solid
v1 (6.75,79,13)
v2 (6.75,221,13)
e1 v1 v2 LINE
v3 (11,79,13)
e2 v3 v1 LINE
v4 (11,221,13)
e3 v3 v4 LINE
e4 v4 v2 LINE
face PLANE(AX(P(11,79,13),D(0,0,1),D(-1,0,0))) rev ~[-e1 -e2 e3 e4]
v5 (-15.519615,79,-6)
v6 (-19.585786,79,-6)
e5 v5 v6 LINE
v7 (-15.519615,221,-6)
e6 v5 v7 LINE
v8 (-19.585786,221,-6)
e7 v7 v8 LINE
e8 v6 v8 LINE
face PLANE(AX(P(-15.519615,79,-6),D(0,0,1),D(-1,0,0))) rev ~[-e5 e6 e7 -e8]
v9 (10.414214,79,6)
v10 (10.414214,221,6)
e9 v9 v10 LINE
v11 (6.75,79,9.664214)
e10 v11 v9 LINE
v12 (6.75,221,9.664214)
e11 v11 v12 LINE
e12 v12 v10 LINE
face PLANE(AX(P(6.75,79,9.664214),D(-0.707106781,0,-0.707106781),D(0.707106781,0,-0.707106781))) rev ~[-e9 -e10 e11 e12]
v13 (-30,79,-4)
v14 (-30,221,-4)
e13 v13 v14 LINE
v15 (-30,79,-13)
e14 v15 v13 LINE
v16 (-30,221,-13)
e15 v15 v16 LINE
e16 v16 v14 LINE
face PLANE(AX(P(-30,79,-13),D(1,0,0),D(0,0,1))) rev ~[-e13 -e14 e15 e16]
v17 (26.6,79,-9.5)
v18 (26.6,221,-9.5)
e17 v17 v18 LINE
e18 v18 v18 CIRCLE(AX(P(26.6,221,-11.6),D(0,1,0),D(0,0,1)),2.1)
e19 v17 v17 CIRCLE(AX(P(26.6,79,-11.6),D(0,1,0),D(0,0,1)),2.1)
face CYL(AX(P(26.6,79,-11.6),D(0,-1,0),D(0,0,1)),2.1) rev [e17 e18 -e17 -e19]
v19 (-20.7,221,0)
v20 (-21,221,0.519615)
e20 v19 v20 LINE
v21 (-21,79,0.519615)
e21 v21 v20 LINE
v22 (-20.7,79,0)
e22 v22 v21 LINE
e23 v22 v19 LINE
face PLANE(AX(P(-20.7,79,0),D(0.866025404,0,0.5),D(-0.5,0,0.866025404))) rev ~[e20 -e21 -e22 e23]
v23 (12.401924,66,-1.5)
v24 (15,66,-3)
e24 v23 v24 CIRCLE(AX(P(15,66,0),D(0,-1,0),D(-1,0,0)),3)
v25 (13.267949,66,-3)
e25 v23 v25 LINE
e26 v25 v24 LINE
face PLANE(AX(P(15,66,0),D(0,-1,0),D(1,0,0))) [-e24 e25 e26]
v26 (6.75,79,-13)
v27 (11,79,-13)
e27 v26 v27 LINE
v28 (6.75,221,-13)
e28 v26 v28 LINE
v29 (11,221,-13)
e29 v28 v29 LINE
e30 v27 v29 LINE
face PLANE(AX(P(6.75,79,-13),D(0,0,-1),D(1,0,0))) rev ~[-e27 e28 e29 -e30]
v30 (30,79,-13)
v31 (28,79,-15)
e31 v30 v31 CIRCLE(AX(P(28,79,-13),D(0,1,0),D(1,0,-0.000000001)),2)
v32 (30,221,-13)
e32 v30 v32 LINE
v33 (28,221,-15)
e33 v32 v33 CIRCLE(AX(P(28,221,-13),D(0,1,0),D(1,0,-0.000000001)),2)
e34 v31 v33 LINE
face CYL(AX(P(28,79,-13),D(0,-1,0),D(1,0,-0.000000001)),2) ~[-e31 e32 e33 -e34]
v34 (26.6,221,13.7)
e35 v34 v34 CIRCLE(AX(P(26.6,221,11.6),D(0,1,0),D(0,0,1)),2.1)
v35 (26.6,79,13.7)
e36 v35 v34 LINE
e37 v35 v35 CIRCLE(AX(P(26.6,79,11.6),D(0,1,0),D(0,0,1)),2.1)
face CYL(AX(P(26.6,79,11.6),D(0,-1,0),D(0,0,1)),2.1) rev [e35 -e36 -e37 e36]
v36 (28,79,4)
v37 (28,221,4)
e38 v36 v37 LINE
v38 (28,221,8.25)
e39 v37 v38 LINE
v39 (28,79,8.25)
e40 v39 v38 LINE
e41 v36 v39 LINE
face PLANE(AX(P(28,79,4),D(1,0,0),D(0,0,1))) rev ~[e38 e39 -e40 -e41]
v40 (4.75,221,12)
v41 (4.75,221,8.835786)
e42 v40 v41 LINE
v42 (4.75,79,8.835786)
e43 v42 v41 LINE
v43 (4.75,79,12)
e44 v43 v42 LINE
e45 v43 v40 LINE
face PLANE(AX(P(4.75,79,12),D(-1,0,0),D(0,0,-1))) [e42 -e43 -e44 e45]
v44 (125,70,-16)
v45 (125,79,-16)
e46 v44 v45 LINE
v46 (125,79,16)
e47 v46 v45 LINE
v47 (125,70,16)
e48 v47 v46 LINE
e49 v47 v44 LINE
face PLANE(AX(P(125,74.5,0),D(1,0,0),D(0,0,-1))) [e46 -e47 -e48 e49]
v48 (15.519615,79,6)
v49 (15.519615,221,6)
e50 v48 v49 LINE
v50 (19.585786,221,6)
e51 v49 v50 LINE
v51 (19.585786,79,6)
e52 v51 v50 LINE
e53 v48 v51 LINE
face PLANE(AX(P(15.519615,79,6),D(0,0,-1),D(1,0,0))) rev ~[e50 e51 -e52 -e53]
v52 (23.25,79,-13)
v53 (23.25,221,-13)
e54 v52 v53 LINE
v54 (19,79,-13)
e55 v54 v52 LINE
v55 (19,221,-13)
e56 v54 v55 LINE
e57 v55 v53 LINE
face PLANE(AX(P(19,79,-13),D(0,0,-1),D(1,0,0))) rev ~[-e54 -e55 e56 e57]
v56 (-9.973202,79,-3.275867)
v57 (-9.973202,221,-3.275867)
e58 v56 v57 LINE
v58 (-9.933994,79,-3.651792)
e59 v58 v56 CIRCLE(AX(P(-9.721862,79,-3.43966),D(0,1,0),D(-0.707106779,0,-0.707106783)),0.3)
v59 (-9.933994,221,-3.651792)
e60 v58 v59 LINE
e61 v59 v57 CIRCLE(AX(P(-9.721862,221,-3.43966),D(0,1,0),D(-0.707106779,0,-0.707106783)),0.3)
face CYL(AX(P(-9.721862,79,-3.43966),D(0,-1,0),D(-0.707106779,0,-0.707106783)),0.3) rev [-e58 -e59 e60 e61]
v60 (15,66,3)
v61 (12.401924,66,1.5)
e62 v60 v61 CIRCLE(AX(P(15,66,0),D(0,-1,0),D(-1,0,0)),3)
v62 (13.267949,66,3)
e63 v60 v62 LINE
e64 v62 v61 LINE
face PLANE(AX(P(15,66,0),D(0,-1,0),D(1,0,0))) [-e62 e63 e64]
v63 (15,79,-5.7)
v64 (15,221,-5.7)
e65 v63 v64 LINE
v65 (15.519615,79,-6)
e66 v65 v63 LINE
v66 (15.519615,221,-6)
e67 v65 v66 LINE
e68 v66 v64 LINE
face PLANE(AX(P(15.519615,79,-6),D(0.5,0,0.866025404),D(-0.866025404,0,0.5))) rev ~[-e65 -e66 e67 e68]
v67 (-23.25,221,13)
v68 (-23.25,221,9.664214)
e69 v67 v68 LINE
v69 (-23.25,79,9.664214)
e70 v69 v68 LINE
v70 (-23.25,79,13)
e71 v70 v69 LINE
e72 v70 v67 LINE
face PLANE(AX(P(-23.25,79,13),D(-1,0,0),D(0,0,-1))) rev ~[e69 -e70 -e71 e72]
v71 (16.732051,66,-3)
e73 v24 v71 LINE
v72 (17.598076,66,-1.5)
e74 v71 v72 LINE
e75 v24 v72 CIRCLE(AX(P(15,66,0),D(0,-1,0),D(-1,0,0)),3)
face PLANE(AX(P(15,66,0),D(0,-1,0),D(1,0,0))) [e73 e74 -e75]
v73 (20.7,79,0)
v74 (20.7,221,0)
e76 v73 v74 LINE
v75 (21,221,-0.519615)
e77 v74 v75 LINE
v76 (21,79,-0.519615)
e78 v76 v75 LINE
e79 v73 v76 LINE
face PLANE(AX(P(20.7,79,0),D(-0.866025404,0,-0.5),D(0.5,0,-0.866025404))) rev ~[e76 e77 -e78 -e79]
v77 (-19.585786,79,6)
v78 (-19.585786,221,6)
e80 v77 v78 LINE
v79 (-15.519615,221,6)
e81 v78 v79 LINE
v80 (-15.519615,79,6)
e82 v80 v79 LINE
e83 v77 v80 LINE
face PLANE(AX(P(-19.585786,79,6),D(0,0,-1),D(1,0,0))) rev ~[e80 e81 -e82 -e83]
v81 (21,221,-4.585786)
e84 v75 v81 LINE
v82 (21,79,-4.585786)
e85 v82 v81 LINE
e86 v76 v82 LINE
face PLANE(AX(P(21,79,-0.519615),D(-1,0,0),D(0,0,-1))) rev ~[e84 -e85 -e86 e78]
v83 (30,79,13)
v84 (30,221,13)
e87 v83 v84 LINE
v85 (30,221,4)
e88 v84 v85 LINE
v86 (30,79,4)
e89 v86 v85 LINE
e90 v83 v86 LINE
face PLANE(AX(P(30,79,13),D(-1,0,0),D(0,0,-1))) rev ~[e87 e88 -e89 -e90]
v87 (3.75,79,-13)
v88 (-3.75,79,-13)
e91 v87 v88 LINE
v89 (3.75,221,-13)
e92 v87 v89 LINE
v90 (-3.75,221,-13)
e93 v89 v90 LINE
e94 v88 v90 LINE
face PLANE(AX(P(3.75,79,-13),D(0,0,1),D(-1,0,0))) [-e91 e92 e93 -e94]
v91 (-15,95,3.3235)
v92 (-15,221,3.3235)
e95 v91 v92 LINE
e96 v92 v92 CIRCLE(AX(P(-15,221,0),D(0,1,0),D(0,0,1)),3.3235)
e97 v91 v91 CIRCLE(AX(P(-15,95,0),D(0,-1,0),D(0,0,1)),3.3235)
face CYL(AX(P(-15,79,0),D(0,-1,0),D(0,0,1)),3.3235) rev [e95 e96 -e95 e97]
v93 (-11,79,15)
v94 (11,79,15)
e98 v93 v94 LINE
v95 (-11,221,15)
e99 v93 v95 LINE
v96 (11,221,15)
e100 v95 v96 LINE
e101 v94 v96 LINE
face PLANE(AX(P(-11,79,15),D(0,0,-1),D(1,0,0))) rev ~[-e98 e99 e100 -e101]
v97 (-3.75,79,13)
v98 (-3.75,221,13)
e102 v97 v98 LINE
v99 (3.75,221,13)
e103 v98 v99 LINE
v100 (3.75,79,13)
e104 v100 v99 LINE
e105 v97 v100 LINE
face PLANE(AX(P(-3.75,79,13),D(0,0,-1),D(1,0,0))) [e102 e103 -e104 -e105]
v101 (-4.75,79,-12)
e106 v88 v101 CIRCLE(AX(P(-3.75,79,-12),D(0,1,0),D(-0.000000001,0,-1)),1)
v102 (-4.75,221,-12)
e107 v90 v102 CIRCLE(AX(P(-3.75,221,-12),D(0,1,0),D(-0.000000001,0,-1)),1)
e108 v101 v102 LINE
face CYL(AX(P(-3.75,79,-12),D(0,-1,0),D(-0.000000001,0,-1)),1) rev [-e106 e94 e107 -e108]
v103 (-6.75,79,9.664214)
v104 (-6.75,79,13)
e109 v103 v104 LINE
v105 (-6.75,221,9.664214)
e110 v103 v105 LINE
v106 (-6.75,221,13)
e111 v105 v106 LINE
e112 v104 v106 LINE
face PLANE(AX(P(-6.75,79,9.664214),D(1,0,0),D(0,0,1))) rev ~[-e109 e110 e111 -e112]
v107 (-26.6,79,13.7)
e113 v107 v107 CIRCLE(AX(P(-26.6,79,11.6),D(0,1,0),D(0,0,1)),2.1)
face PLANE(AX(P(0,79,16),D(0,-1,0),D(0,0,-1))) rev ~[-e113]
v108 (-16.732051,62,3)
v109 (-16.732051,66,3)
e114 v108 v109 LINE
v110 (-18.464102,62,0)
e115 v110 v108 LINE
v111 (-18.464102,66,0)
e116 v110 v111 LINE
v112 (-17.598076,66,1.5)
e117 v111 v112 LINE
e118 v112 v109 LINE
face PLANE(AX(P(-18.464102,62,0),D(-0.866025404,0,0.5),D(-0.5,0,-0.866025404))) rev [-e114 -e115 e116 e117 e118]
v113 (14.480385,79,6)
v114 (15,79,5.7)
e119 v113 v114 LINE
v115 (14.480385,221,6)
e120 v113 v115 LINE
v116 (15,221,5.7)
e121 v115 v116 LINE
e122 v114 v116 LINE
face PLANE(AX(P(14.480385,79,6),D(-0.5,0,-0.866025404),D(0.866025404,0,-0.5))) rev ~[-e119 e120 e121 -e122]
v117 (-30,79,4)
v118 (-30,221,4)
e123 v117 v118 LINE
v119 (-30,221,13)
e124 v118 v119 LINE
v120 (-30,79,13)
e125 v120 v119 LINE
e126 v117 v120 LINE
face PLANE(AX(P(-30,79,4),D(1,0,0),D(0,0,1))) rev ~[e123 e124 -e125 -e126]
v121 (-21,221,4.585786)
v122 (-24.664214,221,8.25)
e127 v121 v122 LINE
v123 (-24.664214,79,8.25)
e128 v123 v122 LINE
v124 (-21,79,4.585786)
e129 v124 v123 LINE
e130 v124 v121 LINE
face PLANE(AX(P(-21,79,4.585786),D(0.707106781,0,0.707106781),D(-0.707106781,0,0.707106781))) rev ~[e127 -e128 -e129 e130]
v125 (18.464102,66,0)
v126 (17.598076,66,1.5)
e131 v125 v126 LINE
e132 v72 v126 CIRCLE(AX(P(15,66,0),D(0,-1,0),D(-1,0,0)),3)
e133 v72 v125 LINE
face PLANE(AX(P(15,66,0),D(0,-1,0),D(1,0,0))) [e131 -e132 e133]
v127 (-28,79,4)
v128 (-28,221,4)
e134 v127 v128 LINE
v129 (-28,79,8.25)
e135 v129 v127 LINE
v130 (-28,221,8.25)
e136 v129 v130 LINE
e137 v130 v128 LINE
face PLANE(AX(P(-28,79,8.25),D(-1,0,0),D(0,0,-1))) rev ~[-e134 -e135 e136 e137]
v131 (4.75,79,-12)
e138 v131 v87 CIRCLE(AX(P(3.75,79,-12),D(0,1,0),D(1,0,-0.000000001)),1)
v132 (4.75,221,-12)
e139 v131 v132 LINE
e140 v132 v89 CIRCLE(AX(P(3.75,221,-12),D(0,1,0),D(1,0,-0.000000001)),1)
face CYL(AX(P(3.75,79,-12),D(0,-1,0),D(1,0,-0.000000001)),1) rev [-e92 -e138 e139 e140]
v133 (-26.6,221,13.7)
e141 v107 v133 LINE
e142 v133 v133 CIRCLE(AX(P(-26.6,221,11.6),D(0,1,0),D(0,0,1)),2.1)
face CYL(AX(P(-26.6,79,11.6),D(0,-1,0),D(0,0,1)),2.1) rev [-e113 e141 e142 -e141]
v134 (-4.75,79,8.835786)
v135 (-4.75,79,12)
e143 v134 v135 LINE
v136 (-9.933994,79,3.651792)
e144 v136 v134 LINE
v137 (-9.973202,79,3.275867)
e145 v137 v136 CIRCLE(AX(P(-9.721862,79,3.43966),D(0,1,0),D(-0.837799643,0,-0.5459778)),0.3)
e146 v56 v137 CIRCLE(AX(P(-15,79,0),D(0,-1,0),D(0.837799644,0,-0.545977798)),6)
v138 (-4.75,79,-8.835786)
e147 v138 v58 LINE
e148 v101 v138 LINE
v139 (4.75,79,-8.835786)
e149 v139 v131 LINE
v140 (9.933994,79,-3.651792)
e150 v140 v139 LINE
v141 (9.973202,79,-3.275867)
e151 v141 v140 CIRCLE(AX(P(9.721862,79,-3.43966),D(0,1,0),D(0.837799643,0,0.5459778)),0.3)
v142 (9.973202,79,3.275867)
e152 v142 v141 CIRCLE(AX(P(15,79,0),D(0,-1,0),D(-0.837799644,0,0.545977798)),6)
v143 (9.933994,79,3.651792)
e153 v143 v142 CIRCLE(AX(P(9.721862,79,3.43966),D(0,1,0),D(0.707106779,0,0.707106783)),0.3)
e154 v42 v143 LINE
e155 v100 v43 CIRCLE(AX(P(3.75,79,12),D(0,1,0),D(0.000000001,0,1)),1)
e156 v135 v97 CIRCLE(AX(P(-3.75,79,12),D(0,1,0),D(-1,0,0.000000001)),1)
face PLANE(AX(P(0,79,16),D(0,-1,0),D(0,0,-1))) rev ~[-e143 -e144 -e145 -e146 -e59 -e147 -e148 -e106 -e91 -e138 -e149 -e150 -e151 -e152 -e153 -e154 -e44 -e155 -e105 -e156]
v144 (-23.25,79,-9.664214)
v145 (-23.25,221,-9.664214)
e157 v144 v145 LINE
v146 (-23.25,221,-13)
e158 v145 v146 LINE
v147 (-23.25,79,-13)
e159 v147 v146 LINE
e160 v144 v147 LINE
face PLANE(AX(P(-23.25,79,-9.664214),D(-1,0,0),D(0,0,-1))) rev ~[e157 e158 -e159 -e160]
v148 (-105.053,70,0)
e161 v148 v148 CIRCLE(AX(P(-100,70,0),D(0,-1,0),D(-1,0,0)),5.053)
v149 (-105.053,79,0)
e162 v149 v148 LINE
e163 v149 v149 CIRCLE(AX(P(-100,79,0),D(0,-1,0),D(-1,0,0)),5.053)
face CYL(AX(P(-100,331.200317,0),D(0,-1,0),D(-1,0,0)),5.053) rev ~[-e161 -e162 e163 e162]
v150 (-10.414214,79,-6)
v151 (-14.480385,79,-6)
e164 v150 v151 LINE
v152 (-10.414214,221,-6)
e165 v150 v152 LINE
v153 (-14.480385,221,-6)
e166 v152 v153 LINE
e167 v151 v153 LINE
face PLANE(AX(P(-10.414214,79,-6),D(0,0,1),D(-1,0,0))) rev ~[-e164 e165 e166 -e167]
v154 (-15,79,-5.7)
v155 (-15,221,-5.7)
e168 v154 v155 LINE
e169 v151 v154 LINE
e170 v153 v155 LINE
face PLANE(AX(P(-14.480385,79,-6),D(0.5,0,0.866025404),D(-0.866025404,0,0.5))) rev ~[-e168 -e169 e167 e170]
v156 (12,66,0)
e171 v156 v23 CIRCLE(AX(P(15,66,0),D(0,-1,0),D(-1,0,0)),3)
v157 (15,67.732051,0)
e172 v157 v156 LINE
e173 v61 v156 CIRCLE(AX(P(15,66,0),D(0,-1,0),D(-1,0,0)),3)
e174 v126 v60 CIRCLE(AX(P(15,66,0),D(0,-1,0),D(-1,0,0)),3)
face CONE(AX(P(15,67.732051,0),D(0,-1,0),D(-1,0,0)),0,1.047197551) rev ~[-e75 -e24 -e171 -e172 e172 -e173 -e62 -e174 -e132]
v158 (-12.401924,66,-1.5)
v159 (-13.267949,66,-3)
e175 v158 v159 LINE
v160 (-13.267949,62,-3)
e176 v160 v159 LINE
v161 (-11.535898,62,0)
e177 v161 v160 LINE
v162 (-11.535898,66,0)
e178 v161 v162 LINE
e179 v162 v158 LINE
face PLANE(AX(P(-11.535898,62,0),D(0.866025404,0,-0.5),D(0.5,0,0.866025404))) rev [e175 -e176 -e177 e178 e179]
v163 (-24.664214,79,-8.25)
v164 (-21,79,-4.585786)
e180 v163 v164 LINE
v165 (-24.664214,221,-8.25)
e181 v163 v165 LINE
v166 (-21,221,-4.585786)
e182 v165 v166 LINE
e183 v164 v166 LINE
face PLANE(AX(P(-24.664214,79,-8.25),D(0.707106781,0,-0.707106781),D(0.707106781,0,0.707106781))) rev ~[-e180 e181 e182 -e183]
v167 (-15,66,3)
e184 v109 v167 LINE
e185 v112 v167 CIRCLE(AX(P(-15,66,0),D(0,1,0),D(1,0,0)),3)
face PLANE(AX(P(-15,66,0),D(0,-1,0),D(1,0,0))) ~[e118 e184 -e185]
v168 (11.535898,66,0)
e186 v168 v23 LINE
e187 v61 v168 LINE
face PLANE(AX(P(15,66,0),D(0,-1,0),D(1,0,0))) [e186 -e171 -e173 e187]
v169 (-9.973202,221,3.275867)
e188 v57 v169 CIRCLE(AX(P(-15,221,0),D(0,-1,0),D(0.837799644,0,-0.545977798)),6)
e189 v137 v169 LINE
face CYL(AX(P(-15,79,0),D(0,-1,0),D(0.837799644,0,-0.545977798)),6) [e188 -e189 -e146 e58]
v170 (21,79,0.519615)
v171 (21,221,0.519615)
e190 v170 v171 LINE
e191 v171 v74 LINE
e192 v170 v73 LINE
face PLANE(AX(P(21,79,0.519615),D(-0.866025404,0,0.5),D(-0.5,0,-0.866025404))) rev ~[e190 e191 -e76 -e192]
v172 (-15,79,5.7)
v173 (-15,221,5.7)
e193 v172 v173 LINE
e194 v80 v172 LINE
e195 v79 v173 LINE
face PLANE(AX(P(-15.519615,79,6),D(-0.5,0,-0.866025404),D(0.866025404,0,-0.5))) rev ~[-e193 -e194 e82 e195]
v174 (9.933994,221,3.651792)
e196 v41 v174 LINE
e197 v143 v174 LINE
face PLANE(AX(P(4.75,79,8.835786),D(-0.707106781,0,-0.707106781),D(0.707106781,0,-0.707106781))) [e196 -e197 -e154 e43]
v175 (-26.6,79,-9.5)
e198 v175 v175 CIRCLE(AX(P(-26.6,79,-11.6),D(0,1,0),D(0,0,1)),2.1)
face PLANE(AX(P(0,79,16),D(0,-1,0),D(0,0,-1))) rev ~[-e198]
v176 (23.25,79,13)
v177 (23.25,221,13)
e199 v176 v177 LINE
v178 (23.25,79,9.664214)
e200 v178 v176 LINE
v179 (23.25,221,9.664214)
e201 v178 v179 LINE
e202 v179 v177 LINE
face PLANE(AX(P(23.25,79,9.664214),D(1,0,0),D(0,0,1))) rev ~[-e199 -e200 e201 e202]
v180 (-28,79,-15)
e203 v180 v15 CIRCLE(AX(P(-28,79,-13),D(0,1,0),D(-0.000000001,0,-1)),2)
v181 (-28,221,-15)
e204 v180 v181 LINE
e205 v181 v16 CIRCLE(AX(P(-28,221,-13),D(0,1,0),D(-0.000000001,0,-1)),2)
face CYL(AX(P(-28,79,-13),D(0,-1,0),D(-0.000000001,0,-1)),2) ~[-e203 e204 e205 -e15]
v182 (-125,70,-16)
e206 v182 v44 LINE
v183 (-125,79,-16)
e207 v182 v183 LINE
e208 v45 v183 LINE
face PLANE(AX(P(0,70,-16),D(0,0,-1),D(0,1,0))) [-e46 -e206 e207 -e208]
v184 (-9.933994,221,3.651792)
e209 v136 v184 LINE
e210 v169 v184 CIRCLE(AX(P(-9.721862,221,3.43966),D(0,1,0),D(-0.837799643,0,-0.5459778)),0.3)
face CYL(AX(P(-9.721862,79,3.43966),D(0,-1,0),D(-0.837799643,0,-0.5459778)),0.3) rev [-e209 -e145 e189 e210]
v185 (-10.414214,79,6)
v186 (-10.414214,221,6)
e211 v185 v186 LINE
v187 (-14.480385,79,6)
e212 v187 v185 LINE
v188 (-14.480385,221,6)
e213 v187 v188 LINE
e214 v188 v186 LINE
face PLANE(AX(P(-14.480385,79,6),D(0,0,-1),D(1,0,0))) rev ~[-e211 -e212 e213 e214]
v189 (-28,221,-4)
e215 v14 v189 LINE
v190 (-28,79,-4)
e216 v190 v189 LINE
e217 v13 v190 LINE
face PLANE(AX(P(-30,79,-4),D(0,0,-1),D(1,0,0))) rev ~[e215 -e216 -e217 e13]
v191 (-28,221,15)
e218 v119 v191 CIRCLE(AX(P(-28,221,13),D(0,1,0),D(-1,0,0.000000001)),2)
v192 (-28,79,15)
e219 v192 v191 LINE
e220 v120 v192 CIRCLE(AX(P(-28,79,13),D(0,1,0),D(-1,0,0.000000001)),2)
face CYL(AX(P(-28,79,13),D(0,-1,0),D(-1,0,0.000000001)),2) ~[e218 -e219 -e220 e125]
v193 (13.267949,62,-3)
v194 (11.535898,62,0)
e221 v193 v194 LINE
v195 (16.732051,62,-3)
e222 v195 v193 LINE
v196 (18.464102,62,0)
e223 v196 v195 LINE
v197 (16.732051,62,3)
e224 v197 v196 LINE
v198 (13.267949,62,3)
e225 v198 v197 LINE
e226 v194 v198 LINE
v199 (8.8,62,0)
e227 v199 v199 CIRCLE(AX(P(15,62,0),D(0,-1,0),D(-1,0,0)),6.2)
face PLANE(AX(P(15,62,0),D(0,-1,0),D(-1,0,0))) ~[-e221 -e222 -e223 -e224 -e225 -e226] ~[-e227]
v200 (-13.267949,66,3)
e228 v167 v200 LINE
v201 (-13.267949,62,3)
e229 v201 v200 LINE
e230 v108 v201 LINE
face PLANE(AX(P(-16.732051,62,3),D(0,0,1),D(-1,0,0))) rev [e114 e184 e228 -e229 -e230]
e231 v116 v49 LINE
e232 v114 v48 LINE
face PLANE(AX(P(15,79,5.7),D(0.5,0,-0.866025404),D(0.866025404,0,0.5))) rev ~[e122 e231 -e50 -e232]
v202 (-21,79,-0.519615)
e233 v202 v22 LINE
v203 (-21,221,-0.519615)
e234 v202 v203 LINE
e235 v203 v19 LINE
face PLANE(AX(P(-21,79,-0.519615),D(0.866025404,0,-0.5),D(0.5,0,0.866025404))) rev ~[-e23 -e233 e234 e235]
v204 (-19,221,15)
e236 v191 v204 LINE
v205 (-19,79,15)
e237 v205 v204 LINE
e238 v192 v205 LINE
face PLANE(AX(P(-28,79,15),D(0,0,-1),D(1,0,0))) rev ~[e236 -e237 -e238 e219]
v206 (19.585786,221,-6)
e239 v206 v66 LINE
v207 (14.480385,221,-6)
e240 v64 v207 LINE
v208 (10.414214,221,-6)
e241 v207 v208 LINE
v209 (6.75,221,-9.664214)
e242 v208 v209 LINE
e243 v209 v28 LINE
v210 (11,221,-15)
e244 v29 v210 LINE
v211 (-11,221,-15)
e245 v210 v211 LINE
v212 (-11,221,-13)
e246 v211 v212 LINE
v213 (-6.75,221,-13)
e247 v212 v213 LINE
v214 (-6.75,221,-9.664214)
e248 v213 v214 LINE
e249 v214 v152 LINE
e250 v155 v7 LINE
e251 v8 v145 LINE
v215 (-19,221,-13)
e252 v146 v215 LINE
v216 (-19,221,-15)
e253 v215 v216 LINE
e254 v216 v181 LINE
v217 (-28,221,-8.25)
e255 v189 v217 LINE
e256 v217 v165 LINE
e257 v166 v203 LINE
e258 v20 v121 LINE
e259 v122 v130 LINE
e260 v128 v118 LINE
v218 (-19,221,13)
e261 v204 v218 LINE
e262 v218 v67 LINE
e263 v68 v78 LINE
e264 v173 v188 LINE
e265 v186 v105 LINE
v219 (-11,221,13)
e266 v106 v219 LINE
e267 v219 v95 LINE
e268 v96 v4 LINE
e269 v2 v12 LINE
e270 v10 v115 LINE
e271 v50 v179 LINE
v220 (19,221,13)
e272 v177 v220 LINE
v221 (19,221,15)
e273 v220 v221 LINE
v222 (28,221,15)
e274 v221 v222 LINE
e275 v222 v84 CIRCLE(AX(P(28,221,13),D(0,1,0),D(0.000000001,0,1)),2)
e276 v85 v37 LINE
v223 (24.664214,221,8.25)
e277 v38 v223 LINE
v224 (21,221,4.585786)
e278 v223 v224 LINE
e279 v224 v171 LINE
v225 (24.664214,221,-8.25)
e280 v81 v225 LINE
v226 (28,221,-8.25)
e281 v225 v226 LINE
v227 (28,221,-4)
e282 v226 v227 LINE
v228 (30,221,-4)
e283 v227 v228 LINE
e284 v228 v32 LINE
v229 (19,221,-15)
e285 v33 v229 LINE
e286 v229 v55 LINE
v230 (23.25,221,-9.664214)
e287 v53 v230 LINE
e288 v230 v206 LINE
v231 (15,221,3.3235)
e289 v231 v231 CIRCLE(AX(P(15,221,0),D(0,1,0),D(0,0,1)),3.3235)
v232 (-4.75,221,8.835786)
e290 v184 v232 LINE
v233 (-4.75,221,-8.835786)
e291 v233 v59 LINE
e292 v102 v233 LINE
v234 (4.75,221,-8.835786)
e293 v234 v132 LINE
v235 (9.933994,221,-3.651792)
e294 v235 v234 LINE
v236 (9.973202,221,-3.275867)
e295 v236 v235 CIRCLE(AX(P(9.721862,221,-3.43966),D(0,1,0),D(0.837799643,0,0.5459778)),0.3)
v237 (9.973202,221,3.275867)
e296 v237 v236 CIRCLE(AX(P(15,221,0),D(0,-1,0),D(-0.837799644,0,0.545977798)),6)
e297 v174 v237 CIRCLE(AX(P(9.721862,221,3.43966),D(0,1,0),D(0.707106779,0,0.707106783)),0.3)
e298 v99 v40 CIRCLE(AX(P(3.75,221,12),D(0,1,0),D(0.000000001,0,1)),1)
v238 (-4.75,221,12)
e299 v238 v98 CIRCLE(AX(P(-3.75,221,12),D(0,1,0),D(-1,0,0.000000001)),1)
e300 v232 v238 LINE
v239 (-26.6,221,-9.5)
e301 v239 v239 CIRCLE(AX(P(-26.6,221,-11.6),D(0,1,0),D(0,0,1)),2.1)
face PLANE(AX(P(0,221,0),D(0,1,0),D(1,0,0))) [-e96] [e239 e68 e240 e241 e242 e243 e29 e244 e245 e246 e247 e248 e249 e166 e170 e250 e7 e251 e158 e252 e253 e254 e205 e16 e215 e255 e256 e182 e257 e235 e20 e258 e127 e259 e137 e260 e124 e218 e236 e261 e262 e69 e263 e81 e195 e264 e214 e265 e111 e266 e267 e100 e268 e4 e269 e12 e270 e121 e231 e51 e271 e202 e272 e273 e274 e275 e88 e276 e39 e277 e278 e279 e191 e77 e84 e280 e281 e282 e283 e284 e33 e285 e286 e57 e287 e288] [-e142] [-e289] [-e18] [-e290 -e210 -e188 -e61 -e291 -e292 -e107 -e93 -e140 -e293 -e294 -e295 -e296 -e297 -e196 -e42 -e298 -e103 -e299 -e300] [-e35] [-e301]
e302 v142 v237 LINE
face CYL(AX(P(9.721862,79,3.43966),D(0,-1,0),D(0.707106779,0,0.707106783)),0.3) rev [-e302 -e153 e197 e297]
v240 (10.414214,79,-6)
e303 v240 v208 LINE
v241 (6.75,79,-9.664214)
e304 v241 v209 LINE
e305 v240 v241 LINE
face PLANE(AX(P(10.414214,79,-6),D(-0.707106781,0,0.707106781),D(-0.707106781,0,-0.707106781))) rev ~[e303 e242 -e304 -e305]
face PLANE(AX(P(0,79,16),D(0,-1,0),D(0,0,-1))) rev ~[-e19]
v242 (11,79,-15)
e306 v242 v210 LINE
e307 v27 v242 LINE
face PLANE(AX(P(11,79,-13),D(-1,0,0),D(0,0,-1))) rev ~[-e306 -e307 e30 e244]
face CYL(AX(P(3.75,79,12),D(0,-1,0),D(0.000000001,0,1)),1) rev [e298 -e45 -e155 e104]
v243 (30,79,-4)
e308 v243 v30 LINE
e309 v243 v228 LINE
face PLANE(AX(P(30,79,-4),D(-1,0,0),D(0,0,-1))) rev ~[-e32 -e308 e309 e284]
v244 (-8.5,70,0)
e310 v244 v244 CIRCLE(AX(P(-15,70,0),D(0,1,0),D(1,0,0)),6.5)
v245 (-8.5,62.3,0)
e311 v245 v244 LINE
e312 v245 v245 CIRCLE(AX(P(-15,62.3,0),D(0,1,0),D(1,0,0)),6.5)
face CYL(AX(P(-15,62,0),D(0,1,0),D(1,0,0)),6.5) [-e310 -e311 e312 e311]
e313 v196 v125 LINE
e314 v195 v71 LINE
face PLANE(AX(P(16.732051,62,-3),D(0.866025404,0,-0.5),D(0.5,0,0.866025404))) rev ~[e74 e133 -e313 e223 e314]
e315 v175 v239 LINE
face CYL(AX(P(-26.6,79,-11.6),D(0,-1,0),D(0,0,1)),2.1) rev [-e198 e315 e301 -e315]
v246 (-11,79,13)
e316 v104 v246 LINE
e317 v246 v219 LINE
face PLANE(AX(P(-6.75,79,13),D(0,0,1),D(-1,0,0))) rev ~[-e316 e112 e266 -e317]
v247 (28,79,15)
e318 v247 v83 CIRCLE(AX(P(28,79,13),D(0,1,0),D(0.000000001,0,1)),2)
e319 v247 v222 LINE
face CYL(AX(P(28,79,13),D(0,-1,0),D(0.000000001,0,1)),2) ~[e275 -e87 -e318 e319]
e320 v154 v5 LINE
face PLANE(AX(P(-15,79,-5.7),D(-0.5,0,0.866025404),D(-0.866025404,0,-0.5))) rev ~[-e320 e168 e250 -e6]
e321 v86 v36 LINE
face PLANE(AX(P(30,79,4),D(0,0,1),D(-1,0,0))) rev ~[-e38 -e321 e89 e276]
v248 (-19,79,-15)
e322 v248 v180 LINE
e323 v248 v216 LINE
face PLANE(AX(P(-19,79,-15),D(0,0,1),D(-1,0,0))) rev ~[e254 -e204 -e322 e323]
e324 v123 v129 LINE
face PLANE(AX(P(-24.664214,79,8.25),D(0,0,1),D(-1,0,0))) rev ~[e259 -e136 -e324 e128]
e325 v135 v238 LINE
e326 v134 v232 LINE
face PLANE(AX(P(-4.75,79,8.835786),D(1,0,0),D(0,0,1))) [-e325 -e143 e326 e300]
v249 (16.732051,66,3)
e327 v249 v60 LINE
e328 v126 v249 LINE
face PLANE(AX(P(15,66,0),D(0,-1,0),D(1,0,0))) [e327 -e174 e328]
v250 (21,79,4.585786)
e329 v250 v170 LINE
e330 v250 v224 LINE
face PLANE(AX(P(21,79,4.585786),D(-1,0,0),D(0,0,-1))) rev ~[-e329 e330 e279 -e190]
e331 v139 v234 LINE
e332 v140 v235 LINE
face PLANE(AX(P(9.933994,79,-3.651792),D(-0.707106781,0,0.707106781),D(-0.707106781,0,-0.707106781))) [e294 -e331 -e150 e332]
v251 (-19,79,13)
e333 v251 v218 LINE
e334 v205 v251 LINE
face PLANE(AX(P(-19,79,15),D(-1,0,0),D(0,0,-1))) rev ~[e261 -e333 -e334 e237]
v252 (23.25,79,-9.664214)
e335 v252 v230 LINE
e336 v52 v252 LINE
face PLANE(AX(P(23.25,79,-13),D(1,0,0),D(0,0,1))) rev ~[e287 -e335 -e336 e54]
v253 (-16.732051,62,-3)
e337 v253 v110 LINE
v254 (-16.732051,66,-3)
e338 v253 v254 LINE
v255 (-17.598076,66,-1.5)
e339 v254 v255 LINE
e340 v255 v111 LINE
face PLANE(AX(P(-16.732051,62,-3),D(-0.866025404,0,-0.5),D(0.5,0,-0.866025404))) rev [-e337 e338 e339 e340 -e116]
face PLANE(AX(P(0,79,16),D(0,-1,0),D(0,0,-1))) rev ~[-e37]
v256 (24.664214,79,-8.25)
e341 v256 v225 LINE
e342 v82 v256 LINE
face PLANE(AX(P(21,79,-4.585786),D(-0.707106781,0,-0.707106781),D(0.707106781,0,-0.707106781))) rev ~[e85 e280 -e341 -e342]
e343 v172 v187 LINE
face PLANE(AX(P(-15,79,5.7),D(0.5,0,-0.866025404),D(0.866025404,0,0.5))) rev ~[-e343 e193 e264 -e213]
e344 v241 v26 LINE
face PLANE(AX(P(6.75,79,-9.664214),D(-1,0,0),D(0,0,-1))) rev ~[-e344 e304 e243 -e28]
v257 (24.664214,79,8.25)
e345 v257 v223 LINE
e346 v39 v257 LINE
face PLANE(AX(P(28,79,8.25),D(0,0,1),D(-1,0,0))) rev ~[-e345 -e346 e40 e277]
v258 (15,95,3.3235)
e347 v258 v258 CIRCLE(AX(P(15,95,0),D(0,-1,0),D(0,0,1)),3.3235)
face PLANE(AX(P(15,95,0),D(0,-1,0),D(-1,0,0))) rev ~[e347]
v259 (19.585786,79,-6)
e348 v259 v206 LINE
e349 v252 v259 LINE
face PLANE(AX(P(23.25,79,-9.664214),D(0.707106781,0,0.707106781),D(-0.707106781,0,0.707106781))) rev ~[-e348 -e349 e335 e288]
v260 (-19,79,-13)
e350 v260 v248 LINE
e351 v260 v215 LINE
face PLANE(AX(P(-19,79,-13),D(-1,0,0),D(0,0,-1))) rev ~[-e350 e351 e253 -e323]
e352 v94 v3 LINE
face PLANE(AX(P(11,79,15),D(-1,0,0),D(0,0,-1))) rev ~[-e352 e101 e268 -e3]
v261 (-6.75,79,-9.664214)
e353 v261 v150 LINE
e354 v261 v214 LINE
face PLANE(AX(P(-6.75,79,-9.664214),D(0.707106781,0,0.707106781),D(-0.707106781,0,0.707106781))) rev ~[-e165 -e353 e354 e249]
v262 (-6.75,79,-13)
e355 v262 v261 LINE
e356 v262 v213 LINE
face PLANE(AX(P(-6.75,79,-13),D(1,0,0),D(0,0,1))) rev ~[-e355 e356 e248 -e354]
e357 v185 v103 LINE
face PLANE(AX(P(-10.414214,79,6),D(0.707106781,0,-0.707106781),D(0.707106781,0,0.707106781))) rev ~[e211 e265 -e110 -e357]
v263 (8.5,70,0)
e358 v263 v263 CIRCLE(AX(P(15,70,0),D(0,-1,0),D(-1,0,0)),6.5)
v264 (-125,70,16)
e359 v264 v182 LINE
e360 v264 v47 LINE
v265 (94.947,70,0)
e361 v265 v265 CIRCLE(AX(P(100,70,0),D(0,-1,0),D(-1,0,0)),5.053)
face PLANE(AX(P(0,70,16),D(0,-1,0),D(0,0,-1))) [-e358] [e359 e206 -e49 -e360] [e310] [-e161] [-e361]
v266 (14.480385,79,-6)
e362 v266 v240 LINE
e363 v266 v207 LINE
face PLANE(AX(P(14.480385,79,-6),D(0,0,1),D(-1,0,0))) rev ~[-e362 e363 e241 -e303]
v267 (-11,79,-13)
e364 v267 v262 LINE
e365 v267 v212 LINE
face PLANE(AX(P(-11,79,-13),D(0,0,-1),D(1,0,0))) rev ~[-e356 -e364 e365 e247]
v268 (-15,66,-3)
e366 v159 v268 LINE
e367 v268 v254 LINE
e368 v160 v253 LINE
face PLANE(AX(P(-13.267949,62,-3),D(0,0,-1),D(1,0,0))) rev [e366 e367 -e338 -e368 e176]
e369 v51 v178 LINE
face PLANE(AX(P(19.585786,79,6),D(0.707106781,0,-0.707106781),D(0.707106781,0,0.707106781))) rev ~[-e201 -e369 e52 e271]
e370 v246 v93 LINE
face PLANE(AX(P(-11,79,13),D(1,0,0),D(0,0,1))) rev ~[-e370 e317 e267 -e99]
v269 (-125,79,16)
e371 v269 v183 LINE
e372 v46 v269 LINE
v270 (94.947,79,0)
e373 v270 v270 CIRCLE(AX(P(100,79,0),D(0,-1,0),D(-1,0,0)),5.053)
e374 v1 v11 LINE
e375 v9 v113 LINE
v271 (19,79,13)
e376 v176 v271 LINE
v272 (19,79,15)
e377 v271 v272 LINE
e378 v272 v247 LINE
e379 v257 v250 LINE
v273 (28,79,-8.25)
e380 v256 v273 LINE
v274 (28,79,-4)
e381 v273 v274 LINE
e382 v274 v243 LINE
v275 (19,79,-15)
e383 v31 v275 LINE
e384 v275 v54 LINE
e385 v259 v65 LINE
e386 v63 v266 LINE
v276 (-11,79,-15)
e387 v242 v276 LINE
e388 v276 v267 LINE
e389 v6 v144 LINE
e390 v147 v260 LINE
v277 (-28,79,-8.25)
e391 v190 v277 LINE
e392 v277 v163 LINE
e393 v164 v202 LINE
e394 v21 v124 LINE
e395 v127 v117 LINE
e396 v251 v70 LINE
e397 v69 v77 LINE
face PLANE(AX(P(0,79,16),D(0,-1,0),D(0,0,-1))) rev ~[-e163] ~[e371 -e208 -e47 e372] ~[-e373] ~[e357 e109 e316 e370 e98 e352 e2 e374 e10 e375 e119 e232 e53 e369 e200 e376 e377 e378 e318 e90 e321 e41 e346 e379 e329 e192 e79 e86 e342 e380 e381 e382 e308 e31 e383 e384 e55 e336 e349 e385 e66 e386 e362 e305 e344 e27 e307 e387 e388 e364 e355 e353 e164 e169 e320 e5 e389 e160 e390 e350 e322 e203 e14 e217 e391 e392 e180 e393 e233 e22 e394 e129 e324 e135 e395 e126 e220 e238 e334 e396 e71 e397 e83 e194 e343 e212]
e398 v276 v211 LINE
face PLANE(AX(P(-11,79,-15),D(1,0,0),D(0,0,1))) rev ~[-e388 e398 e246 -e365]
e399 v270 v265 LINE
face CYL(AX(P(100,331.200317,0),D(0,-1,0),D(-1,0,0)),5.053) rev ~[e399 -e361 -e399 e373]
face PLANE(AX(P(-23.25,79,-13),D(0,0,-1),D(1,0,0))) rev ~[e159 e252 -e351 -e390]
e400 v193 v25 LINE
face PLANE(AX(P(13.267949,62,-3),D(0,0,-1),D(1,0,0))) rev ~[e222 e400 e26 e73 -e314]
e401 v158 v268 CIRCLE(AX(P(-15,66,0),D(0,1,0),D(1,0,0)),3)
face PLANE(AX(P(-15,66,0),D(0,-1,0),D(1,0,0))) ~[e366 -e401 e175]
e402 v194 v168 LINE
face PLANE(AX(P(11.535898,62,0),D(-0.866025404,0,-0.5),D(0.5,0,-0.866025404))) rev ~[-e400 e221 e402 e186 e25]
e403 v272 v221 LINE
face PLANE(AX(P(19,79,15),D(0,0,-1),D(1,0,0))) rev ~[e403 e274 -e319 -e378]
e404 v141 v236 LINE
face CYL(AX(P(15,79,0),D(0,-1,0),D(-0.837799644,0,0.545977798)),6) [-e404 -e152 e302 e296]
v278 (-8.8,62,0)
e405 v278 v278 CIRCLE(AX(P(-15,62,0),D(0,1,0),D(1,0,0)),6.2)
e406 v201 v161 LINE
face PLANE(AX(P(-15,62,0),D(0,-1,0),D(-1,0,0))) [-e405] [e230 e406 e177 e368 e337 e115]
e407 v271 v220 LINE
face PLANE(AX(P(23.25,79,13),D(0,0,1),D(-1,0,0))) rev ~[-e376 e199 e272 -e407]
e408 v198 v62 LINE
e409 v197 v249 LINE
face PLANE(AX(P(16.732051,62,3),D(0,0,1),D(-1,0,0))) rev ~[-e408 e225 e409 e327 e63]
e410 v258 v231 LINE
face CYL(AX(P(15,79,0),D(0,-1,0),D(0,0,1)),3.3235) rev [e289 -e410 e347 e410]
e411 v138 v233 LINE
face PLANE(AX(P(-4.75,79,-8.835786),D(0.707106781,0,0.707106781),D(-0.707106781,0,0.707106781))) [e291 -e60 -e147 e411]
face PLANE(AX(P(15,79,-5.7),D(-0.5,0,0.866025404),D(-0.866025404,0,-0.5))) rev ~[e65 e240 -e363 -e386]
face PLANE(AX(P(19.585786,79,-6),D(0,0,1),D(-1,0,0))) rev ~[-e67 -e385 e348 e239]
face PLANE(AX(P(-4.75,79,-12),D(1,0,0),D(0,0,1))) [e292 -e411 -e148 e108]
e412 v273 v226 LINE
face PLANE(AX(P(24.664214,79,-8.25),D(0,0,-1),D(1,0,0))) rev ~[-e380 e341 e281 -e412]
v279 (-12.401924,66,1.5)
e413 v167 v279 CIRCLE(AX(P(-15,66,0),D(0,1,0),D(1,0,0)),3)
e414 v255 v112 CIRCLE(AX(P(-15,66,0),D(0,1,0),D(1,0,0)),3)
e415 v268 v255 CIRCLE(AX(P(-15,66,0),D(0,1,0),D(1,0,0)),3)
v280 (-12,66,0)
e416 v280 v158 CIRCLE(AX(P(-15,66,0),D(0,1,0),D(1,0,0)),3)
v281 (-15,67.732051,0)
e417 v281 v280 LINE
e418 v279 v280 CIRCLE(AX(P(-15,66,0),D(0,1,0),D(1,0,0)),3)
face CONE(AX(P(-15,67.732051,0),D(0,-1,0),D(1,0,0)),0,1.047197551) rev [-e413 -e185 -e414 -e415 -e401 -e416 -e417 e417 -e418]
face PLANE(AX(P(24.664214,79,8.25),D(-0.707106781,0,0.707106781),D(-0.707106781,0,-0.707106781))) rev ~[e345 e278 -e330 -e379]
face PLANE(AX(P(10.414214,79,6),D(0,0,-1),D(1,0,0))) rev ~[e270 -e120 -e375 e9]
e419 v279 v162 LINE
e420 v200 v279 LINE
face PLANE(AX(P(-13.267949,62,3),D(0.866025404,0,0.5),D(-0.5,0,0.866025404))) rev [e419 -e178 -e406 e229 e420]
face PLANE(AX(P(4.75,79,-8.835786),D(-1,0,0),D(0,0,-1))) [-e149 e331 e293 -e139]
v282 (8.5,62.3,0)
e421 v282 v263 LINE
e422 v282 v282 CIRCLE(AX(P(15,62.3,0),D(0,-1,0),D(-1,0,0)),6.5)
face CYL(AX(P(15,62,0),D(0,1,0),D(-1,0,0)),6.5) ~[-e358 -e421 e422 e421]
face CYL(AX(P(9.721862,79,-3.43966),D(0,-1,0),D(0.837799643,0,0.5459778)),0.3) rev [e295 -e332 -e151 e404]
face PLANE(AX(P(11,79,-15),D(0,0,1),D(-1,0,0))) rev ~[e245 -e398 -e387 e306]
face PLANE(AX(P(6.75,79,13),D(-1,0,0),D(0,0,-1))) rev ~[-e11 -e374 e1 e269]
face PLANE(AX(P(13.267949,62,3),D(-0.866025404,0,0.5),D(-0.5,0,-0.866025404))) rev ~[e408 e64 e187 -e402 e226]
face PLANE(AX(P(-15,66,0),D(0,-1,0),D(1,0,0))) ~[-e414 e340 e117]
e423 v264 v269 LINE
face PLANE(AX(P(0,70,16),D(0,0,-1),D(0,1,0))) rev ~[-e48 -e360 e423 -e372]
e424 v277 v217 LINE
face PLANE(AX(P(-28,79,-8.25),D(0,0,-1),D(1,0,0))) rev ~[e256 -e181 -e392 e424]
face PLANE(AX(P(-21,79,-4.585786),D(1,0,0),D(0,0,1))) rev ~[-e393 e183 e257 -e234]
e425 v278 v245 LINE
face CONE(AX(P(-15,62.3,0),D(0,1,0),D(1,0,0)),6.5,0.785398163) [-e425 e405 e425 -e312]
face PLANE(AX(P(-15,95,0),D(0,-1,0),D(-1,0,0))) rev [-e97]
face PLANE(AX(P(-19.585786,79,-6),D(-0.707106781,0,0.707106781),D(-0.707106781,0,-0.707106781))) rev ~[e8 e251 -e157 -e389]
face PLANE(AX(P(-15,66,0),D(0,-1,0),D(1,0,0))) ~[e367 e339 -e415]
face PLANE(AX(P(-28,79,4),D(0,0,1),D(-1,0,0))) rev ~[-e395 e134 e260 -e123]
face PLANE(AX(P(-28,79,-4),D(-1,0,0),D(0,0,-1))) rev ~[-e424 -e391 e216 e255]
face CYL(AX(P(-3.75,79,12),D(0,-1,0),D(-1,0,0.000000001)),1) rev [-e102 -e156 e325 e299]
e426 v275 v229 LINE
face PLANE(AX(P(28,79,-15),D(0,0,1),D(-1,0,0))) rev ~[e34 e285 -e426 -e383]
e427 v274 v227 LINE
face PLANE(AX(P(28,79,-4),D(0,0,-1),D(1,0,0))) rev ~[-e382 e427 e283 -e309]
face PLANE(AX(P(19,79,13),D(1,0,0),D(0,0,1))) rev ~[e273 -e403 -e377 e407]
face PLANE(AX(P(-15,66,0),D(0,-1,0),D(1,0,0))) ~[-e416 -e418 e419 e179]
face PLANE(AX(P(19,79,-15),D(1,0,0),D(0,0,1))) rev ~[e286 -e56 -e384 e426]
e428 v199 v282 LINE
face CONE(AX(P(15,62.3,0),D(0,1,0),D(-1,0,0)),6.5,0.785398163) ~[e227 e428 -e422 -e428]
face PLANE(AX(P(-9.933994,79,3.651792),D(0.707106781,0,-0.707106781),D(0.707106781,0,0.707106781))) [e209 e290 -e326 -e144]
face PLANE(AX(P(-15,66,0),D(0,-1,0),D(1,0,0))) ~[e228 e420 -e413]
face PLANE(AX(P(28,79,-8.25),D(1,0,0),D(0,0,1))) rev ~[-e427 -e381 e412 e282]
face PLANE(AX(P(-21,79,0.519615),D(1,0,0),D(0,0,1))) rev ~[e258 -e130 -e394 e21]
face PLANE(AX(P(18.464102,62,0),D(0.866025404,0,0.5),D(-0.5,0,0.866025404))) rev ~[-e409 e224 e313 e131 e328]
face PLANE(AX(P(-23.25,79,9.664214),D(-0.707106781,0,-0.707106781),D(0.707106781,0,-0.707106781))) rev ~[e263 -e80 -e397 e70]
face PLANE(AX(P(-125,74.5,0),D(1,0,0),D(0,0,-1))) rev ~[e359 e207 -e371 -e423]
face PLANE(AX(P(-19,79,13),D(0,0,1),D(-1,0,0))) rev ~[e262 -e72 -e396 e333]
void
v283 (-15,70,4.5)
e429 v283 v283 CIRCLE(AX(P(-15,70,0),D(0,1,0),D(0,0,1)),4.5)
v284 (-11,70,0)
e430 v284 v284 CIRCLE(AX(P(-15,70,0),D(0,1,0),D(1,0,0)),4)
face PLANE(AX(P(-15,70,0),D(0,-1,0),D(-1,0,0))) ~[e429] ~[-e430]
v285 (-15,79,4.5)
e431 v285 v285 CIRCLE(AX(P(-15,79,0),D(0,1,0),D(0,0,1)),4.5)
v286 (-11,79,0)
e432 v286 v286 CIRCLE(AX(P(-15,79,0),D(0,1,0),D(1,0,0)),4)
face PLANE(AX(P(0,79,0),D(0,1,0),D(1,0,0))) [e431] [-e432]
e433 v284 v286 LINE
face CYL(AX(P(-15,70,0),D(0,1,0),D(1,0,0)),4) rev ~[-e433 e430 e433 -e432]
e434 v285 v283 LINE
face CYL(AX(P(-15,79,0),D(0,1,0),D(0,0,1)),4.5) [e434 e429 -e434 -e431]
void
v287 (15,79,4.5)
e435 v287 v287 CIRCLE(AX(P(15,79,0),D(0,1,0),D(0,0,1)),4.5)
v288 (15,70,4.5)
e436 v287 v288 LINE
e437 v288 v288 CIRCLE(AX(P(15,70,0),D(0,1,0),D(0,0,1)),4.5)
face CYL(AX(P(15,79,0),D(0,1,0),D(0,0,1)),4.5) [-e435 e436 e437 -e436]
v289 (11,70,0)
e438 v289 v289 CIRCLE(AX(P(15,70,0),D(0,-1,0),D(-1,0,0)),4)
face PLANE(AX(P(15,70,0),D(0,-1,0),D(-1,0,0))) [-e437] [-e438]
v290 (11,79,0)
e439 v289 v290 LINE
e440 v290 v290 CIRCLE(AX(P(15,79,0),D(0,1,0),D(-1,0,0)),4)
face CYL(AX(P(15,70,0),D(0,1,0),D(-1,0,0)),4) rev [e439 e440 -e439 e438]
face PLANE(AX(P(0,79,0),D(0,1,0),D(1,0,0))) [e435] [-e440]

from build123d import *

# Parameters (mm, degrees)
SKETCH1_W                = 32
SKETCH1_H                = 9
BOSS_EXTRUDE1_DEPTH      = 125
TAP1_D                   = 10.106
SKETCH4_R                = 4.5
CUT_EXTRUDE1_DEPTH       = 127.340808926
SKETCH5_R                = 2.1
SKETCH5_R_2              = 3.3235
BOSS_EXTRUDE2_DEPTH      = 142
CUT_EXTRUDE2_DEPTH       = 4
CHAMFER1_SIZE            = 0.3
CHAMFER1_OF_MIRROR1_SIZE = 0.3


with BuildPart() as part:
    # Sketch1 → Boss-Extrude1 (new, symmetric)
    with BuildSketch(Plane(origin=(0, 0, 0), x_dir=(0, 0, -1), z_dir=(1, 0, 0))):
        with Locations((0, 74.5)):
            Rectangle(SKETCH1_W, SKETCH1_H)
    extrude(amount=BOSS_EXTRUDE1_DEPTH, both=True)

    # Tap1 (through all)
    with Locations(Plane(origin=(0, 79, 0), x_dir=(1, 0, 0), z_dir=(0, 1, 0))):
        with Locations((-100, 0), (100, 0)):
            Hole(TAP1_D / 2)

    # Sketch4 → Cut-Extrude1 (cut, through all)
    with BuildSketch(Plane(origin=(0, 79, 0), x_dir=(1, 0, 0), z_dir=(0, 1, 0))):
        with Locations(Location((-15, 0, 0), (0, 0, 270))):
            Circle(SKETCH4_R)
        with Locations(Location((15, 0, 0), (0, 0, 270))):
            Circle(SKETCH4_R)
    extrude(amount=-CUT_EXTRUDE1_DEPTH, mode=Mode.SUBTRACT)

    # Sketch5 → Boss-Extrude2 (add)
    with BuildSketch(Plane(origin=(0, 79, 0), x_dir=(1, 0, 0), z_dir=(0, 1, 0))):
        with BuildLine():
            Line((-11, -15), (11, -15))
            Line((11, -15), (11, -13))
            Line((11, -13), (6.75, -13))
            Line((6.75, -13), (6.75, -9.664213562))
            Line((6.75, -9.664213562), (10.414213562, -6))
            Line((10.414213562, -6), (14.480384758, -6))
            Line((14.480384758, -6), (15, -5.7))
            Line((15, -5.7), (15.519615242, -6))
            Line((15.519615242, -6), (19.585786438, -6))
            Line((19.585786438, -6), (23.25, -9.664213562))
            Line((23.25, -9.664213562), (23.25, -13))
            Line((23.25, -13), (19, -13))
            Line((19, -13), (19, -15))
            Line((19, -15), (28, -15))
            ThreePointArc((28, -15), (29.414213562, -14.414213562), (30, -13))
            Line((30, -13), (30, -4))
            Line((30, -4), (28, -4))
            Line((28, -4), (28, -8.25))
            Line((28, -8.25), (24.664213562, -8.25))
            Line((24.664213562, -8.25), (21, -4.585786438))
            Line((21, -4.585786438), (21, -0.519615242))
            Line((21, -0.519615242), (20.7, 0))
            Line((20.7, 0), (21, 0.519615242))
            Line((21, 0.519615242), (21, 4.585786438))
            Line((21, 4.585786438), (24.664213562, 8.25))
            Line((24.664213562, 8.25), (28, 8.25))
            Line((28, 8.25), (28, 4))
            Line((28, 4), (30, 4))
            Line((30, 4), (30, 13))
            ThreePointArc((30, 13), (29.414213562, 14.414213562), (28, 15))
            Line((28, 15), (19, 15))
            Line((19, 15), (19, 13))
            Line((19, 13), (23.25, 13))
            Line((23.25, 13), (23.25, 9.664213562))
            Line((23.25, 9.664213562), (19.585786438, 6))
            Line((19.585786438, 6), (15.519615242, 6))
            Line((15.519615242, 6), (15, 5.7))
            Line((15, 5.7), (14.480384758, 6))
            Line((14.480384758, 6), (10.414213562, 6))
            Line((10.414213562, 6), (6.75, 9.664213562))
            Line((6.75, 9.664213562), (6.75, 13))
            Line((6.75, 13), (11, 13))
            Line((11, 13), (11, 15))
            Line((11, 15), (-11, 15))
            Line((-11, 15), (-11, 13))
            Line((-11, 13), (-6.75, 13))
            Line((-6.75, 13), (-6.75, 9.664213562))
            Line((-6.75, 9.664213562), (-10.414213562, 6))
            Line((-10.414213562, 6), (-14.480384758, 6))
            Line((-14.480384758, 6), (-15, 5.7))
            Line((-15, 5.7), (-15.519615242, 6))
            Line((-15.519615242, 6), (-19.585786438, 6))
            Line((-19.585786438, 6), (-23.25, 9.664213562))
            Line((-23.25, 9.664213562), (-23.25, 13))
            Line((-23.25, 13), (-19, 13))
            Line((-19, 13), (-19, 15))
            Line((-19, 15), (-28, 15))
            ThreePointArc((-28, 15), (-29.414213562, 14.414213562), (-30, 13))
            Line((-30, 13), (-30, 4))
            Line((-30, 4), (-28, 4))
            Line((-28, 4), (-28, 8.25))
            Line((-28, 8.25), (-24.664213562, 8.25))
            Line((-24.664213562, 8.25), (-21, 4.585786438))
            Line((-21, 4.585786438), (-21, 0.519615242))
            Line((-21, 0.519615242), (-20.7, 0))
            Line((-20.7, 0), (-21, -0.519615242))
            Line((-21, -0.519615242), (-21, -4.585786438))
            Line((-21, -4.585786438), (-24.664213562, -8.25))
            Line((-24.664213562, -8.25), (-28, -8.25))
            Line((-28, -8.25), (-28, -4))
            Line((-28, -4), (-30, -4))
            Line((-30, -4), (-30, -13))
            ThreePointArc((-30, -13), (-29.414213562, -14.414213562), (-28, -15))
            Line((-28, -15), (-19, -15))
            Line((-19, -15), (-19, -13))
            Line((-19, -13), (-23.25, -13))
            Line((-23.25, -13), (-23.25, -9.664213562))
            Line((-23.25, -9.664213562), (-19.585786438, -6))
            Line((-19.585786438, -6), (-15.519615242, -6))
            Line((-15.519615242, -6), (-15, -5.7))
            Line((-15, -5.7), (-14.480384758, -6))
            Line((-14.480384758, -6), (-10.414213562, -6))
            Line((-10.414213562, -6), (-6.75, -9.664213562))
            Line((-6.75, -9.664213562), (-6.75, -13))
            Line((-6.75, -13), (-11, -13))
            Line((-11, -13), (-11, -15))
        make_face()
        with Locations(Location((-26.6, -11.6, 0), (0, 0, 270))):
            Circle(SKETCH5_R, mode=Mode.SUBTRACT)
        with Locations(Location((-26.6, 11.6, 0), (0, 0, 270))):
            Circle(SKETCH5_R, mode=Mode.SUBTRACT)
        with Locations(Location((-15, 0, 0), (0, 0, 270))):
            Circle(SKETCH5_R_2, mode=Mode.SUBTRACT)
        with Locations(Location((26.6, -11.6, 0), (0, 0, 270))):
            Circle(SKETCH5_R, mode=Mode.SUBTRACT)
        with Locations(Location((15, 0, 0), (0, 0, 270))):
            Circle(SKETCH5_R_2, mode=Mode.SUBTRACT)
        with Locations(Location((26.6, 11.6, 0), (0, 0, 270))):
            Circle(SKETCH5_R, mode=Mode.SUBTRACT)
        with BuildLine():
            Line((4.75, 8.835786438), (4.75, 12))
            ThreePointArc((4.75, 12), (4.457106781, 12.707106781), (3.75, 13))
            Line((3.75, 13), (-3.75, 13))
            ThreePointArc((-3.75, 13), (-4.457106781, 12.707106781), (-4.75, 12))
            Line((-4.75, 12), (-4.75, 8.835786438))
            Line((-4.75, 8.835786438), (-9.933994275, 3.651792162))
            ThreePointArc((-9.933994275, 3.651792162), (-10.020243756, 3.470780401), (-9.973202134, 3.275866789))
            ThreePointArc((-9.973202134, 3.275866789), (-9, 0), (-9.973202134, -3.275866789))
            ThreePointArc((-9.973202134, -3.275866789), (-10.020243756, -3.470780401), (-9.933994275, -3.651792162))
            Line((-9.933994275, -3.651792162), (-4.75, -8.835786438))
            Line((-4.75, -8.835786438), (-4.75, -12))
            ThreePointArc((-4.75, -12), (-4.457106781, -12.707106781), (-3.75, -13))
            Line((-3.75, -13), (3.75, -13))
            ThreePointArc((3.75, -13), (4.457106781, -12.707106781), (4.75, -12))
            Line((4.75, -12), (4.75, -8.835786438))
            Line((4.75, -8.835786438), (9.933994275, -3.651792162))
            ThreePointArc((9.933994275, -3.651792162), (10.020243756, -3.470780401), (9.973202134, -3.275866789))
            ThreePointArc((9.973202134, -3.275866789), (9, 0), (9.973202134, 3.275866789))
            ThreePointArc((9.973202134, 3.275866789), (10.020243756, 3.470780401), (9.933994275, 3.651792162))
            Line((9.933994275, 3.651792162), (4.75, 8.835786438))
        make_face(mode=Mode.SUBTRACT)
    extrude(amount=BOSS_EXTRUDE2_DEPTH)

    # Sketch6 → Revolve1 (revolve)
    with BuildSketch(Plane.XY, mode=Mode.PRIVATE) as revolve1_sk:
        Polygon((18, 62), (21.5, 62), (21.5, 70), (19, 70), (19, 95), (15, 95), (15, 67.732050808), (18, 66), align=None)
    revolve1 = revolve(revolve1_sk.sketch.rotate(Axis((15, 95, 0), (0, -1, 0)), 180), axis=Axis((15, 95, 0), (0, -1, 0)))

    # Sketch7 → Cut-Extrude2 (cut)
    with BuildSketch(Plane.XZ.offset(-62)):
        Polygon((18.464101615, 0), (16.732050808, 3), (13.267949192, 3), (11.535898385, 0), (13.267949192, -3), (16.732050808, -3), align=None)
    cut_extrude2 = extrude(amount=-CUT_EXTRUDE2_DEPTH, mode=Mode.SUBTRACT)

    # Chamfer1
    chamfer1_edges = [part.edges().sort_by_distance(p)[0] for p in [
        (21.5, 62, 0),
    ]]
    chamfer(chamfer1_edges, length=CHAMFER1_SIZE)

    # Mirror1: Revolve1, Cut-Extrude2 across plane
    add(revolve1.mirror(Plane(origin=(0, 0, 0), x_dir=(0, 0, 1), z_dir=(1, 0, 0))))
    add(cut_extrude2.mirror(Plane(origin=(0, 0, 0), x_dir=(0, 0, 1), z_dir=(1, 0, 0))), mode=Mode.SUBTRACT)

    # Chamfer1 of Mirror1
    chamfer1_of_mirror1_edges = [part.edges().sort_by_distance(p)[0] for p in [
        (-21.5, 62, 0),
    ]]
    chamfer(chamfer1_of_mirror1_edges, length=CHAMFER1_OF_MIRROR1_SIZE)


solid = part.part
